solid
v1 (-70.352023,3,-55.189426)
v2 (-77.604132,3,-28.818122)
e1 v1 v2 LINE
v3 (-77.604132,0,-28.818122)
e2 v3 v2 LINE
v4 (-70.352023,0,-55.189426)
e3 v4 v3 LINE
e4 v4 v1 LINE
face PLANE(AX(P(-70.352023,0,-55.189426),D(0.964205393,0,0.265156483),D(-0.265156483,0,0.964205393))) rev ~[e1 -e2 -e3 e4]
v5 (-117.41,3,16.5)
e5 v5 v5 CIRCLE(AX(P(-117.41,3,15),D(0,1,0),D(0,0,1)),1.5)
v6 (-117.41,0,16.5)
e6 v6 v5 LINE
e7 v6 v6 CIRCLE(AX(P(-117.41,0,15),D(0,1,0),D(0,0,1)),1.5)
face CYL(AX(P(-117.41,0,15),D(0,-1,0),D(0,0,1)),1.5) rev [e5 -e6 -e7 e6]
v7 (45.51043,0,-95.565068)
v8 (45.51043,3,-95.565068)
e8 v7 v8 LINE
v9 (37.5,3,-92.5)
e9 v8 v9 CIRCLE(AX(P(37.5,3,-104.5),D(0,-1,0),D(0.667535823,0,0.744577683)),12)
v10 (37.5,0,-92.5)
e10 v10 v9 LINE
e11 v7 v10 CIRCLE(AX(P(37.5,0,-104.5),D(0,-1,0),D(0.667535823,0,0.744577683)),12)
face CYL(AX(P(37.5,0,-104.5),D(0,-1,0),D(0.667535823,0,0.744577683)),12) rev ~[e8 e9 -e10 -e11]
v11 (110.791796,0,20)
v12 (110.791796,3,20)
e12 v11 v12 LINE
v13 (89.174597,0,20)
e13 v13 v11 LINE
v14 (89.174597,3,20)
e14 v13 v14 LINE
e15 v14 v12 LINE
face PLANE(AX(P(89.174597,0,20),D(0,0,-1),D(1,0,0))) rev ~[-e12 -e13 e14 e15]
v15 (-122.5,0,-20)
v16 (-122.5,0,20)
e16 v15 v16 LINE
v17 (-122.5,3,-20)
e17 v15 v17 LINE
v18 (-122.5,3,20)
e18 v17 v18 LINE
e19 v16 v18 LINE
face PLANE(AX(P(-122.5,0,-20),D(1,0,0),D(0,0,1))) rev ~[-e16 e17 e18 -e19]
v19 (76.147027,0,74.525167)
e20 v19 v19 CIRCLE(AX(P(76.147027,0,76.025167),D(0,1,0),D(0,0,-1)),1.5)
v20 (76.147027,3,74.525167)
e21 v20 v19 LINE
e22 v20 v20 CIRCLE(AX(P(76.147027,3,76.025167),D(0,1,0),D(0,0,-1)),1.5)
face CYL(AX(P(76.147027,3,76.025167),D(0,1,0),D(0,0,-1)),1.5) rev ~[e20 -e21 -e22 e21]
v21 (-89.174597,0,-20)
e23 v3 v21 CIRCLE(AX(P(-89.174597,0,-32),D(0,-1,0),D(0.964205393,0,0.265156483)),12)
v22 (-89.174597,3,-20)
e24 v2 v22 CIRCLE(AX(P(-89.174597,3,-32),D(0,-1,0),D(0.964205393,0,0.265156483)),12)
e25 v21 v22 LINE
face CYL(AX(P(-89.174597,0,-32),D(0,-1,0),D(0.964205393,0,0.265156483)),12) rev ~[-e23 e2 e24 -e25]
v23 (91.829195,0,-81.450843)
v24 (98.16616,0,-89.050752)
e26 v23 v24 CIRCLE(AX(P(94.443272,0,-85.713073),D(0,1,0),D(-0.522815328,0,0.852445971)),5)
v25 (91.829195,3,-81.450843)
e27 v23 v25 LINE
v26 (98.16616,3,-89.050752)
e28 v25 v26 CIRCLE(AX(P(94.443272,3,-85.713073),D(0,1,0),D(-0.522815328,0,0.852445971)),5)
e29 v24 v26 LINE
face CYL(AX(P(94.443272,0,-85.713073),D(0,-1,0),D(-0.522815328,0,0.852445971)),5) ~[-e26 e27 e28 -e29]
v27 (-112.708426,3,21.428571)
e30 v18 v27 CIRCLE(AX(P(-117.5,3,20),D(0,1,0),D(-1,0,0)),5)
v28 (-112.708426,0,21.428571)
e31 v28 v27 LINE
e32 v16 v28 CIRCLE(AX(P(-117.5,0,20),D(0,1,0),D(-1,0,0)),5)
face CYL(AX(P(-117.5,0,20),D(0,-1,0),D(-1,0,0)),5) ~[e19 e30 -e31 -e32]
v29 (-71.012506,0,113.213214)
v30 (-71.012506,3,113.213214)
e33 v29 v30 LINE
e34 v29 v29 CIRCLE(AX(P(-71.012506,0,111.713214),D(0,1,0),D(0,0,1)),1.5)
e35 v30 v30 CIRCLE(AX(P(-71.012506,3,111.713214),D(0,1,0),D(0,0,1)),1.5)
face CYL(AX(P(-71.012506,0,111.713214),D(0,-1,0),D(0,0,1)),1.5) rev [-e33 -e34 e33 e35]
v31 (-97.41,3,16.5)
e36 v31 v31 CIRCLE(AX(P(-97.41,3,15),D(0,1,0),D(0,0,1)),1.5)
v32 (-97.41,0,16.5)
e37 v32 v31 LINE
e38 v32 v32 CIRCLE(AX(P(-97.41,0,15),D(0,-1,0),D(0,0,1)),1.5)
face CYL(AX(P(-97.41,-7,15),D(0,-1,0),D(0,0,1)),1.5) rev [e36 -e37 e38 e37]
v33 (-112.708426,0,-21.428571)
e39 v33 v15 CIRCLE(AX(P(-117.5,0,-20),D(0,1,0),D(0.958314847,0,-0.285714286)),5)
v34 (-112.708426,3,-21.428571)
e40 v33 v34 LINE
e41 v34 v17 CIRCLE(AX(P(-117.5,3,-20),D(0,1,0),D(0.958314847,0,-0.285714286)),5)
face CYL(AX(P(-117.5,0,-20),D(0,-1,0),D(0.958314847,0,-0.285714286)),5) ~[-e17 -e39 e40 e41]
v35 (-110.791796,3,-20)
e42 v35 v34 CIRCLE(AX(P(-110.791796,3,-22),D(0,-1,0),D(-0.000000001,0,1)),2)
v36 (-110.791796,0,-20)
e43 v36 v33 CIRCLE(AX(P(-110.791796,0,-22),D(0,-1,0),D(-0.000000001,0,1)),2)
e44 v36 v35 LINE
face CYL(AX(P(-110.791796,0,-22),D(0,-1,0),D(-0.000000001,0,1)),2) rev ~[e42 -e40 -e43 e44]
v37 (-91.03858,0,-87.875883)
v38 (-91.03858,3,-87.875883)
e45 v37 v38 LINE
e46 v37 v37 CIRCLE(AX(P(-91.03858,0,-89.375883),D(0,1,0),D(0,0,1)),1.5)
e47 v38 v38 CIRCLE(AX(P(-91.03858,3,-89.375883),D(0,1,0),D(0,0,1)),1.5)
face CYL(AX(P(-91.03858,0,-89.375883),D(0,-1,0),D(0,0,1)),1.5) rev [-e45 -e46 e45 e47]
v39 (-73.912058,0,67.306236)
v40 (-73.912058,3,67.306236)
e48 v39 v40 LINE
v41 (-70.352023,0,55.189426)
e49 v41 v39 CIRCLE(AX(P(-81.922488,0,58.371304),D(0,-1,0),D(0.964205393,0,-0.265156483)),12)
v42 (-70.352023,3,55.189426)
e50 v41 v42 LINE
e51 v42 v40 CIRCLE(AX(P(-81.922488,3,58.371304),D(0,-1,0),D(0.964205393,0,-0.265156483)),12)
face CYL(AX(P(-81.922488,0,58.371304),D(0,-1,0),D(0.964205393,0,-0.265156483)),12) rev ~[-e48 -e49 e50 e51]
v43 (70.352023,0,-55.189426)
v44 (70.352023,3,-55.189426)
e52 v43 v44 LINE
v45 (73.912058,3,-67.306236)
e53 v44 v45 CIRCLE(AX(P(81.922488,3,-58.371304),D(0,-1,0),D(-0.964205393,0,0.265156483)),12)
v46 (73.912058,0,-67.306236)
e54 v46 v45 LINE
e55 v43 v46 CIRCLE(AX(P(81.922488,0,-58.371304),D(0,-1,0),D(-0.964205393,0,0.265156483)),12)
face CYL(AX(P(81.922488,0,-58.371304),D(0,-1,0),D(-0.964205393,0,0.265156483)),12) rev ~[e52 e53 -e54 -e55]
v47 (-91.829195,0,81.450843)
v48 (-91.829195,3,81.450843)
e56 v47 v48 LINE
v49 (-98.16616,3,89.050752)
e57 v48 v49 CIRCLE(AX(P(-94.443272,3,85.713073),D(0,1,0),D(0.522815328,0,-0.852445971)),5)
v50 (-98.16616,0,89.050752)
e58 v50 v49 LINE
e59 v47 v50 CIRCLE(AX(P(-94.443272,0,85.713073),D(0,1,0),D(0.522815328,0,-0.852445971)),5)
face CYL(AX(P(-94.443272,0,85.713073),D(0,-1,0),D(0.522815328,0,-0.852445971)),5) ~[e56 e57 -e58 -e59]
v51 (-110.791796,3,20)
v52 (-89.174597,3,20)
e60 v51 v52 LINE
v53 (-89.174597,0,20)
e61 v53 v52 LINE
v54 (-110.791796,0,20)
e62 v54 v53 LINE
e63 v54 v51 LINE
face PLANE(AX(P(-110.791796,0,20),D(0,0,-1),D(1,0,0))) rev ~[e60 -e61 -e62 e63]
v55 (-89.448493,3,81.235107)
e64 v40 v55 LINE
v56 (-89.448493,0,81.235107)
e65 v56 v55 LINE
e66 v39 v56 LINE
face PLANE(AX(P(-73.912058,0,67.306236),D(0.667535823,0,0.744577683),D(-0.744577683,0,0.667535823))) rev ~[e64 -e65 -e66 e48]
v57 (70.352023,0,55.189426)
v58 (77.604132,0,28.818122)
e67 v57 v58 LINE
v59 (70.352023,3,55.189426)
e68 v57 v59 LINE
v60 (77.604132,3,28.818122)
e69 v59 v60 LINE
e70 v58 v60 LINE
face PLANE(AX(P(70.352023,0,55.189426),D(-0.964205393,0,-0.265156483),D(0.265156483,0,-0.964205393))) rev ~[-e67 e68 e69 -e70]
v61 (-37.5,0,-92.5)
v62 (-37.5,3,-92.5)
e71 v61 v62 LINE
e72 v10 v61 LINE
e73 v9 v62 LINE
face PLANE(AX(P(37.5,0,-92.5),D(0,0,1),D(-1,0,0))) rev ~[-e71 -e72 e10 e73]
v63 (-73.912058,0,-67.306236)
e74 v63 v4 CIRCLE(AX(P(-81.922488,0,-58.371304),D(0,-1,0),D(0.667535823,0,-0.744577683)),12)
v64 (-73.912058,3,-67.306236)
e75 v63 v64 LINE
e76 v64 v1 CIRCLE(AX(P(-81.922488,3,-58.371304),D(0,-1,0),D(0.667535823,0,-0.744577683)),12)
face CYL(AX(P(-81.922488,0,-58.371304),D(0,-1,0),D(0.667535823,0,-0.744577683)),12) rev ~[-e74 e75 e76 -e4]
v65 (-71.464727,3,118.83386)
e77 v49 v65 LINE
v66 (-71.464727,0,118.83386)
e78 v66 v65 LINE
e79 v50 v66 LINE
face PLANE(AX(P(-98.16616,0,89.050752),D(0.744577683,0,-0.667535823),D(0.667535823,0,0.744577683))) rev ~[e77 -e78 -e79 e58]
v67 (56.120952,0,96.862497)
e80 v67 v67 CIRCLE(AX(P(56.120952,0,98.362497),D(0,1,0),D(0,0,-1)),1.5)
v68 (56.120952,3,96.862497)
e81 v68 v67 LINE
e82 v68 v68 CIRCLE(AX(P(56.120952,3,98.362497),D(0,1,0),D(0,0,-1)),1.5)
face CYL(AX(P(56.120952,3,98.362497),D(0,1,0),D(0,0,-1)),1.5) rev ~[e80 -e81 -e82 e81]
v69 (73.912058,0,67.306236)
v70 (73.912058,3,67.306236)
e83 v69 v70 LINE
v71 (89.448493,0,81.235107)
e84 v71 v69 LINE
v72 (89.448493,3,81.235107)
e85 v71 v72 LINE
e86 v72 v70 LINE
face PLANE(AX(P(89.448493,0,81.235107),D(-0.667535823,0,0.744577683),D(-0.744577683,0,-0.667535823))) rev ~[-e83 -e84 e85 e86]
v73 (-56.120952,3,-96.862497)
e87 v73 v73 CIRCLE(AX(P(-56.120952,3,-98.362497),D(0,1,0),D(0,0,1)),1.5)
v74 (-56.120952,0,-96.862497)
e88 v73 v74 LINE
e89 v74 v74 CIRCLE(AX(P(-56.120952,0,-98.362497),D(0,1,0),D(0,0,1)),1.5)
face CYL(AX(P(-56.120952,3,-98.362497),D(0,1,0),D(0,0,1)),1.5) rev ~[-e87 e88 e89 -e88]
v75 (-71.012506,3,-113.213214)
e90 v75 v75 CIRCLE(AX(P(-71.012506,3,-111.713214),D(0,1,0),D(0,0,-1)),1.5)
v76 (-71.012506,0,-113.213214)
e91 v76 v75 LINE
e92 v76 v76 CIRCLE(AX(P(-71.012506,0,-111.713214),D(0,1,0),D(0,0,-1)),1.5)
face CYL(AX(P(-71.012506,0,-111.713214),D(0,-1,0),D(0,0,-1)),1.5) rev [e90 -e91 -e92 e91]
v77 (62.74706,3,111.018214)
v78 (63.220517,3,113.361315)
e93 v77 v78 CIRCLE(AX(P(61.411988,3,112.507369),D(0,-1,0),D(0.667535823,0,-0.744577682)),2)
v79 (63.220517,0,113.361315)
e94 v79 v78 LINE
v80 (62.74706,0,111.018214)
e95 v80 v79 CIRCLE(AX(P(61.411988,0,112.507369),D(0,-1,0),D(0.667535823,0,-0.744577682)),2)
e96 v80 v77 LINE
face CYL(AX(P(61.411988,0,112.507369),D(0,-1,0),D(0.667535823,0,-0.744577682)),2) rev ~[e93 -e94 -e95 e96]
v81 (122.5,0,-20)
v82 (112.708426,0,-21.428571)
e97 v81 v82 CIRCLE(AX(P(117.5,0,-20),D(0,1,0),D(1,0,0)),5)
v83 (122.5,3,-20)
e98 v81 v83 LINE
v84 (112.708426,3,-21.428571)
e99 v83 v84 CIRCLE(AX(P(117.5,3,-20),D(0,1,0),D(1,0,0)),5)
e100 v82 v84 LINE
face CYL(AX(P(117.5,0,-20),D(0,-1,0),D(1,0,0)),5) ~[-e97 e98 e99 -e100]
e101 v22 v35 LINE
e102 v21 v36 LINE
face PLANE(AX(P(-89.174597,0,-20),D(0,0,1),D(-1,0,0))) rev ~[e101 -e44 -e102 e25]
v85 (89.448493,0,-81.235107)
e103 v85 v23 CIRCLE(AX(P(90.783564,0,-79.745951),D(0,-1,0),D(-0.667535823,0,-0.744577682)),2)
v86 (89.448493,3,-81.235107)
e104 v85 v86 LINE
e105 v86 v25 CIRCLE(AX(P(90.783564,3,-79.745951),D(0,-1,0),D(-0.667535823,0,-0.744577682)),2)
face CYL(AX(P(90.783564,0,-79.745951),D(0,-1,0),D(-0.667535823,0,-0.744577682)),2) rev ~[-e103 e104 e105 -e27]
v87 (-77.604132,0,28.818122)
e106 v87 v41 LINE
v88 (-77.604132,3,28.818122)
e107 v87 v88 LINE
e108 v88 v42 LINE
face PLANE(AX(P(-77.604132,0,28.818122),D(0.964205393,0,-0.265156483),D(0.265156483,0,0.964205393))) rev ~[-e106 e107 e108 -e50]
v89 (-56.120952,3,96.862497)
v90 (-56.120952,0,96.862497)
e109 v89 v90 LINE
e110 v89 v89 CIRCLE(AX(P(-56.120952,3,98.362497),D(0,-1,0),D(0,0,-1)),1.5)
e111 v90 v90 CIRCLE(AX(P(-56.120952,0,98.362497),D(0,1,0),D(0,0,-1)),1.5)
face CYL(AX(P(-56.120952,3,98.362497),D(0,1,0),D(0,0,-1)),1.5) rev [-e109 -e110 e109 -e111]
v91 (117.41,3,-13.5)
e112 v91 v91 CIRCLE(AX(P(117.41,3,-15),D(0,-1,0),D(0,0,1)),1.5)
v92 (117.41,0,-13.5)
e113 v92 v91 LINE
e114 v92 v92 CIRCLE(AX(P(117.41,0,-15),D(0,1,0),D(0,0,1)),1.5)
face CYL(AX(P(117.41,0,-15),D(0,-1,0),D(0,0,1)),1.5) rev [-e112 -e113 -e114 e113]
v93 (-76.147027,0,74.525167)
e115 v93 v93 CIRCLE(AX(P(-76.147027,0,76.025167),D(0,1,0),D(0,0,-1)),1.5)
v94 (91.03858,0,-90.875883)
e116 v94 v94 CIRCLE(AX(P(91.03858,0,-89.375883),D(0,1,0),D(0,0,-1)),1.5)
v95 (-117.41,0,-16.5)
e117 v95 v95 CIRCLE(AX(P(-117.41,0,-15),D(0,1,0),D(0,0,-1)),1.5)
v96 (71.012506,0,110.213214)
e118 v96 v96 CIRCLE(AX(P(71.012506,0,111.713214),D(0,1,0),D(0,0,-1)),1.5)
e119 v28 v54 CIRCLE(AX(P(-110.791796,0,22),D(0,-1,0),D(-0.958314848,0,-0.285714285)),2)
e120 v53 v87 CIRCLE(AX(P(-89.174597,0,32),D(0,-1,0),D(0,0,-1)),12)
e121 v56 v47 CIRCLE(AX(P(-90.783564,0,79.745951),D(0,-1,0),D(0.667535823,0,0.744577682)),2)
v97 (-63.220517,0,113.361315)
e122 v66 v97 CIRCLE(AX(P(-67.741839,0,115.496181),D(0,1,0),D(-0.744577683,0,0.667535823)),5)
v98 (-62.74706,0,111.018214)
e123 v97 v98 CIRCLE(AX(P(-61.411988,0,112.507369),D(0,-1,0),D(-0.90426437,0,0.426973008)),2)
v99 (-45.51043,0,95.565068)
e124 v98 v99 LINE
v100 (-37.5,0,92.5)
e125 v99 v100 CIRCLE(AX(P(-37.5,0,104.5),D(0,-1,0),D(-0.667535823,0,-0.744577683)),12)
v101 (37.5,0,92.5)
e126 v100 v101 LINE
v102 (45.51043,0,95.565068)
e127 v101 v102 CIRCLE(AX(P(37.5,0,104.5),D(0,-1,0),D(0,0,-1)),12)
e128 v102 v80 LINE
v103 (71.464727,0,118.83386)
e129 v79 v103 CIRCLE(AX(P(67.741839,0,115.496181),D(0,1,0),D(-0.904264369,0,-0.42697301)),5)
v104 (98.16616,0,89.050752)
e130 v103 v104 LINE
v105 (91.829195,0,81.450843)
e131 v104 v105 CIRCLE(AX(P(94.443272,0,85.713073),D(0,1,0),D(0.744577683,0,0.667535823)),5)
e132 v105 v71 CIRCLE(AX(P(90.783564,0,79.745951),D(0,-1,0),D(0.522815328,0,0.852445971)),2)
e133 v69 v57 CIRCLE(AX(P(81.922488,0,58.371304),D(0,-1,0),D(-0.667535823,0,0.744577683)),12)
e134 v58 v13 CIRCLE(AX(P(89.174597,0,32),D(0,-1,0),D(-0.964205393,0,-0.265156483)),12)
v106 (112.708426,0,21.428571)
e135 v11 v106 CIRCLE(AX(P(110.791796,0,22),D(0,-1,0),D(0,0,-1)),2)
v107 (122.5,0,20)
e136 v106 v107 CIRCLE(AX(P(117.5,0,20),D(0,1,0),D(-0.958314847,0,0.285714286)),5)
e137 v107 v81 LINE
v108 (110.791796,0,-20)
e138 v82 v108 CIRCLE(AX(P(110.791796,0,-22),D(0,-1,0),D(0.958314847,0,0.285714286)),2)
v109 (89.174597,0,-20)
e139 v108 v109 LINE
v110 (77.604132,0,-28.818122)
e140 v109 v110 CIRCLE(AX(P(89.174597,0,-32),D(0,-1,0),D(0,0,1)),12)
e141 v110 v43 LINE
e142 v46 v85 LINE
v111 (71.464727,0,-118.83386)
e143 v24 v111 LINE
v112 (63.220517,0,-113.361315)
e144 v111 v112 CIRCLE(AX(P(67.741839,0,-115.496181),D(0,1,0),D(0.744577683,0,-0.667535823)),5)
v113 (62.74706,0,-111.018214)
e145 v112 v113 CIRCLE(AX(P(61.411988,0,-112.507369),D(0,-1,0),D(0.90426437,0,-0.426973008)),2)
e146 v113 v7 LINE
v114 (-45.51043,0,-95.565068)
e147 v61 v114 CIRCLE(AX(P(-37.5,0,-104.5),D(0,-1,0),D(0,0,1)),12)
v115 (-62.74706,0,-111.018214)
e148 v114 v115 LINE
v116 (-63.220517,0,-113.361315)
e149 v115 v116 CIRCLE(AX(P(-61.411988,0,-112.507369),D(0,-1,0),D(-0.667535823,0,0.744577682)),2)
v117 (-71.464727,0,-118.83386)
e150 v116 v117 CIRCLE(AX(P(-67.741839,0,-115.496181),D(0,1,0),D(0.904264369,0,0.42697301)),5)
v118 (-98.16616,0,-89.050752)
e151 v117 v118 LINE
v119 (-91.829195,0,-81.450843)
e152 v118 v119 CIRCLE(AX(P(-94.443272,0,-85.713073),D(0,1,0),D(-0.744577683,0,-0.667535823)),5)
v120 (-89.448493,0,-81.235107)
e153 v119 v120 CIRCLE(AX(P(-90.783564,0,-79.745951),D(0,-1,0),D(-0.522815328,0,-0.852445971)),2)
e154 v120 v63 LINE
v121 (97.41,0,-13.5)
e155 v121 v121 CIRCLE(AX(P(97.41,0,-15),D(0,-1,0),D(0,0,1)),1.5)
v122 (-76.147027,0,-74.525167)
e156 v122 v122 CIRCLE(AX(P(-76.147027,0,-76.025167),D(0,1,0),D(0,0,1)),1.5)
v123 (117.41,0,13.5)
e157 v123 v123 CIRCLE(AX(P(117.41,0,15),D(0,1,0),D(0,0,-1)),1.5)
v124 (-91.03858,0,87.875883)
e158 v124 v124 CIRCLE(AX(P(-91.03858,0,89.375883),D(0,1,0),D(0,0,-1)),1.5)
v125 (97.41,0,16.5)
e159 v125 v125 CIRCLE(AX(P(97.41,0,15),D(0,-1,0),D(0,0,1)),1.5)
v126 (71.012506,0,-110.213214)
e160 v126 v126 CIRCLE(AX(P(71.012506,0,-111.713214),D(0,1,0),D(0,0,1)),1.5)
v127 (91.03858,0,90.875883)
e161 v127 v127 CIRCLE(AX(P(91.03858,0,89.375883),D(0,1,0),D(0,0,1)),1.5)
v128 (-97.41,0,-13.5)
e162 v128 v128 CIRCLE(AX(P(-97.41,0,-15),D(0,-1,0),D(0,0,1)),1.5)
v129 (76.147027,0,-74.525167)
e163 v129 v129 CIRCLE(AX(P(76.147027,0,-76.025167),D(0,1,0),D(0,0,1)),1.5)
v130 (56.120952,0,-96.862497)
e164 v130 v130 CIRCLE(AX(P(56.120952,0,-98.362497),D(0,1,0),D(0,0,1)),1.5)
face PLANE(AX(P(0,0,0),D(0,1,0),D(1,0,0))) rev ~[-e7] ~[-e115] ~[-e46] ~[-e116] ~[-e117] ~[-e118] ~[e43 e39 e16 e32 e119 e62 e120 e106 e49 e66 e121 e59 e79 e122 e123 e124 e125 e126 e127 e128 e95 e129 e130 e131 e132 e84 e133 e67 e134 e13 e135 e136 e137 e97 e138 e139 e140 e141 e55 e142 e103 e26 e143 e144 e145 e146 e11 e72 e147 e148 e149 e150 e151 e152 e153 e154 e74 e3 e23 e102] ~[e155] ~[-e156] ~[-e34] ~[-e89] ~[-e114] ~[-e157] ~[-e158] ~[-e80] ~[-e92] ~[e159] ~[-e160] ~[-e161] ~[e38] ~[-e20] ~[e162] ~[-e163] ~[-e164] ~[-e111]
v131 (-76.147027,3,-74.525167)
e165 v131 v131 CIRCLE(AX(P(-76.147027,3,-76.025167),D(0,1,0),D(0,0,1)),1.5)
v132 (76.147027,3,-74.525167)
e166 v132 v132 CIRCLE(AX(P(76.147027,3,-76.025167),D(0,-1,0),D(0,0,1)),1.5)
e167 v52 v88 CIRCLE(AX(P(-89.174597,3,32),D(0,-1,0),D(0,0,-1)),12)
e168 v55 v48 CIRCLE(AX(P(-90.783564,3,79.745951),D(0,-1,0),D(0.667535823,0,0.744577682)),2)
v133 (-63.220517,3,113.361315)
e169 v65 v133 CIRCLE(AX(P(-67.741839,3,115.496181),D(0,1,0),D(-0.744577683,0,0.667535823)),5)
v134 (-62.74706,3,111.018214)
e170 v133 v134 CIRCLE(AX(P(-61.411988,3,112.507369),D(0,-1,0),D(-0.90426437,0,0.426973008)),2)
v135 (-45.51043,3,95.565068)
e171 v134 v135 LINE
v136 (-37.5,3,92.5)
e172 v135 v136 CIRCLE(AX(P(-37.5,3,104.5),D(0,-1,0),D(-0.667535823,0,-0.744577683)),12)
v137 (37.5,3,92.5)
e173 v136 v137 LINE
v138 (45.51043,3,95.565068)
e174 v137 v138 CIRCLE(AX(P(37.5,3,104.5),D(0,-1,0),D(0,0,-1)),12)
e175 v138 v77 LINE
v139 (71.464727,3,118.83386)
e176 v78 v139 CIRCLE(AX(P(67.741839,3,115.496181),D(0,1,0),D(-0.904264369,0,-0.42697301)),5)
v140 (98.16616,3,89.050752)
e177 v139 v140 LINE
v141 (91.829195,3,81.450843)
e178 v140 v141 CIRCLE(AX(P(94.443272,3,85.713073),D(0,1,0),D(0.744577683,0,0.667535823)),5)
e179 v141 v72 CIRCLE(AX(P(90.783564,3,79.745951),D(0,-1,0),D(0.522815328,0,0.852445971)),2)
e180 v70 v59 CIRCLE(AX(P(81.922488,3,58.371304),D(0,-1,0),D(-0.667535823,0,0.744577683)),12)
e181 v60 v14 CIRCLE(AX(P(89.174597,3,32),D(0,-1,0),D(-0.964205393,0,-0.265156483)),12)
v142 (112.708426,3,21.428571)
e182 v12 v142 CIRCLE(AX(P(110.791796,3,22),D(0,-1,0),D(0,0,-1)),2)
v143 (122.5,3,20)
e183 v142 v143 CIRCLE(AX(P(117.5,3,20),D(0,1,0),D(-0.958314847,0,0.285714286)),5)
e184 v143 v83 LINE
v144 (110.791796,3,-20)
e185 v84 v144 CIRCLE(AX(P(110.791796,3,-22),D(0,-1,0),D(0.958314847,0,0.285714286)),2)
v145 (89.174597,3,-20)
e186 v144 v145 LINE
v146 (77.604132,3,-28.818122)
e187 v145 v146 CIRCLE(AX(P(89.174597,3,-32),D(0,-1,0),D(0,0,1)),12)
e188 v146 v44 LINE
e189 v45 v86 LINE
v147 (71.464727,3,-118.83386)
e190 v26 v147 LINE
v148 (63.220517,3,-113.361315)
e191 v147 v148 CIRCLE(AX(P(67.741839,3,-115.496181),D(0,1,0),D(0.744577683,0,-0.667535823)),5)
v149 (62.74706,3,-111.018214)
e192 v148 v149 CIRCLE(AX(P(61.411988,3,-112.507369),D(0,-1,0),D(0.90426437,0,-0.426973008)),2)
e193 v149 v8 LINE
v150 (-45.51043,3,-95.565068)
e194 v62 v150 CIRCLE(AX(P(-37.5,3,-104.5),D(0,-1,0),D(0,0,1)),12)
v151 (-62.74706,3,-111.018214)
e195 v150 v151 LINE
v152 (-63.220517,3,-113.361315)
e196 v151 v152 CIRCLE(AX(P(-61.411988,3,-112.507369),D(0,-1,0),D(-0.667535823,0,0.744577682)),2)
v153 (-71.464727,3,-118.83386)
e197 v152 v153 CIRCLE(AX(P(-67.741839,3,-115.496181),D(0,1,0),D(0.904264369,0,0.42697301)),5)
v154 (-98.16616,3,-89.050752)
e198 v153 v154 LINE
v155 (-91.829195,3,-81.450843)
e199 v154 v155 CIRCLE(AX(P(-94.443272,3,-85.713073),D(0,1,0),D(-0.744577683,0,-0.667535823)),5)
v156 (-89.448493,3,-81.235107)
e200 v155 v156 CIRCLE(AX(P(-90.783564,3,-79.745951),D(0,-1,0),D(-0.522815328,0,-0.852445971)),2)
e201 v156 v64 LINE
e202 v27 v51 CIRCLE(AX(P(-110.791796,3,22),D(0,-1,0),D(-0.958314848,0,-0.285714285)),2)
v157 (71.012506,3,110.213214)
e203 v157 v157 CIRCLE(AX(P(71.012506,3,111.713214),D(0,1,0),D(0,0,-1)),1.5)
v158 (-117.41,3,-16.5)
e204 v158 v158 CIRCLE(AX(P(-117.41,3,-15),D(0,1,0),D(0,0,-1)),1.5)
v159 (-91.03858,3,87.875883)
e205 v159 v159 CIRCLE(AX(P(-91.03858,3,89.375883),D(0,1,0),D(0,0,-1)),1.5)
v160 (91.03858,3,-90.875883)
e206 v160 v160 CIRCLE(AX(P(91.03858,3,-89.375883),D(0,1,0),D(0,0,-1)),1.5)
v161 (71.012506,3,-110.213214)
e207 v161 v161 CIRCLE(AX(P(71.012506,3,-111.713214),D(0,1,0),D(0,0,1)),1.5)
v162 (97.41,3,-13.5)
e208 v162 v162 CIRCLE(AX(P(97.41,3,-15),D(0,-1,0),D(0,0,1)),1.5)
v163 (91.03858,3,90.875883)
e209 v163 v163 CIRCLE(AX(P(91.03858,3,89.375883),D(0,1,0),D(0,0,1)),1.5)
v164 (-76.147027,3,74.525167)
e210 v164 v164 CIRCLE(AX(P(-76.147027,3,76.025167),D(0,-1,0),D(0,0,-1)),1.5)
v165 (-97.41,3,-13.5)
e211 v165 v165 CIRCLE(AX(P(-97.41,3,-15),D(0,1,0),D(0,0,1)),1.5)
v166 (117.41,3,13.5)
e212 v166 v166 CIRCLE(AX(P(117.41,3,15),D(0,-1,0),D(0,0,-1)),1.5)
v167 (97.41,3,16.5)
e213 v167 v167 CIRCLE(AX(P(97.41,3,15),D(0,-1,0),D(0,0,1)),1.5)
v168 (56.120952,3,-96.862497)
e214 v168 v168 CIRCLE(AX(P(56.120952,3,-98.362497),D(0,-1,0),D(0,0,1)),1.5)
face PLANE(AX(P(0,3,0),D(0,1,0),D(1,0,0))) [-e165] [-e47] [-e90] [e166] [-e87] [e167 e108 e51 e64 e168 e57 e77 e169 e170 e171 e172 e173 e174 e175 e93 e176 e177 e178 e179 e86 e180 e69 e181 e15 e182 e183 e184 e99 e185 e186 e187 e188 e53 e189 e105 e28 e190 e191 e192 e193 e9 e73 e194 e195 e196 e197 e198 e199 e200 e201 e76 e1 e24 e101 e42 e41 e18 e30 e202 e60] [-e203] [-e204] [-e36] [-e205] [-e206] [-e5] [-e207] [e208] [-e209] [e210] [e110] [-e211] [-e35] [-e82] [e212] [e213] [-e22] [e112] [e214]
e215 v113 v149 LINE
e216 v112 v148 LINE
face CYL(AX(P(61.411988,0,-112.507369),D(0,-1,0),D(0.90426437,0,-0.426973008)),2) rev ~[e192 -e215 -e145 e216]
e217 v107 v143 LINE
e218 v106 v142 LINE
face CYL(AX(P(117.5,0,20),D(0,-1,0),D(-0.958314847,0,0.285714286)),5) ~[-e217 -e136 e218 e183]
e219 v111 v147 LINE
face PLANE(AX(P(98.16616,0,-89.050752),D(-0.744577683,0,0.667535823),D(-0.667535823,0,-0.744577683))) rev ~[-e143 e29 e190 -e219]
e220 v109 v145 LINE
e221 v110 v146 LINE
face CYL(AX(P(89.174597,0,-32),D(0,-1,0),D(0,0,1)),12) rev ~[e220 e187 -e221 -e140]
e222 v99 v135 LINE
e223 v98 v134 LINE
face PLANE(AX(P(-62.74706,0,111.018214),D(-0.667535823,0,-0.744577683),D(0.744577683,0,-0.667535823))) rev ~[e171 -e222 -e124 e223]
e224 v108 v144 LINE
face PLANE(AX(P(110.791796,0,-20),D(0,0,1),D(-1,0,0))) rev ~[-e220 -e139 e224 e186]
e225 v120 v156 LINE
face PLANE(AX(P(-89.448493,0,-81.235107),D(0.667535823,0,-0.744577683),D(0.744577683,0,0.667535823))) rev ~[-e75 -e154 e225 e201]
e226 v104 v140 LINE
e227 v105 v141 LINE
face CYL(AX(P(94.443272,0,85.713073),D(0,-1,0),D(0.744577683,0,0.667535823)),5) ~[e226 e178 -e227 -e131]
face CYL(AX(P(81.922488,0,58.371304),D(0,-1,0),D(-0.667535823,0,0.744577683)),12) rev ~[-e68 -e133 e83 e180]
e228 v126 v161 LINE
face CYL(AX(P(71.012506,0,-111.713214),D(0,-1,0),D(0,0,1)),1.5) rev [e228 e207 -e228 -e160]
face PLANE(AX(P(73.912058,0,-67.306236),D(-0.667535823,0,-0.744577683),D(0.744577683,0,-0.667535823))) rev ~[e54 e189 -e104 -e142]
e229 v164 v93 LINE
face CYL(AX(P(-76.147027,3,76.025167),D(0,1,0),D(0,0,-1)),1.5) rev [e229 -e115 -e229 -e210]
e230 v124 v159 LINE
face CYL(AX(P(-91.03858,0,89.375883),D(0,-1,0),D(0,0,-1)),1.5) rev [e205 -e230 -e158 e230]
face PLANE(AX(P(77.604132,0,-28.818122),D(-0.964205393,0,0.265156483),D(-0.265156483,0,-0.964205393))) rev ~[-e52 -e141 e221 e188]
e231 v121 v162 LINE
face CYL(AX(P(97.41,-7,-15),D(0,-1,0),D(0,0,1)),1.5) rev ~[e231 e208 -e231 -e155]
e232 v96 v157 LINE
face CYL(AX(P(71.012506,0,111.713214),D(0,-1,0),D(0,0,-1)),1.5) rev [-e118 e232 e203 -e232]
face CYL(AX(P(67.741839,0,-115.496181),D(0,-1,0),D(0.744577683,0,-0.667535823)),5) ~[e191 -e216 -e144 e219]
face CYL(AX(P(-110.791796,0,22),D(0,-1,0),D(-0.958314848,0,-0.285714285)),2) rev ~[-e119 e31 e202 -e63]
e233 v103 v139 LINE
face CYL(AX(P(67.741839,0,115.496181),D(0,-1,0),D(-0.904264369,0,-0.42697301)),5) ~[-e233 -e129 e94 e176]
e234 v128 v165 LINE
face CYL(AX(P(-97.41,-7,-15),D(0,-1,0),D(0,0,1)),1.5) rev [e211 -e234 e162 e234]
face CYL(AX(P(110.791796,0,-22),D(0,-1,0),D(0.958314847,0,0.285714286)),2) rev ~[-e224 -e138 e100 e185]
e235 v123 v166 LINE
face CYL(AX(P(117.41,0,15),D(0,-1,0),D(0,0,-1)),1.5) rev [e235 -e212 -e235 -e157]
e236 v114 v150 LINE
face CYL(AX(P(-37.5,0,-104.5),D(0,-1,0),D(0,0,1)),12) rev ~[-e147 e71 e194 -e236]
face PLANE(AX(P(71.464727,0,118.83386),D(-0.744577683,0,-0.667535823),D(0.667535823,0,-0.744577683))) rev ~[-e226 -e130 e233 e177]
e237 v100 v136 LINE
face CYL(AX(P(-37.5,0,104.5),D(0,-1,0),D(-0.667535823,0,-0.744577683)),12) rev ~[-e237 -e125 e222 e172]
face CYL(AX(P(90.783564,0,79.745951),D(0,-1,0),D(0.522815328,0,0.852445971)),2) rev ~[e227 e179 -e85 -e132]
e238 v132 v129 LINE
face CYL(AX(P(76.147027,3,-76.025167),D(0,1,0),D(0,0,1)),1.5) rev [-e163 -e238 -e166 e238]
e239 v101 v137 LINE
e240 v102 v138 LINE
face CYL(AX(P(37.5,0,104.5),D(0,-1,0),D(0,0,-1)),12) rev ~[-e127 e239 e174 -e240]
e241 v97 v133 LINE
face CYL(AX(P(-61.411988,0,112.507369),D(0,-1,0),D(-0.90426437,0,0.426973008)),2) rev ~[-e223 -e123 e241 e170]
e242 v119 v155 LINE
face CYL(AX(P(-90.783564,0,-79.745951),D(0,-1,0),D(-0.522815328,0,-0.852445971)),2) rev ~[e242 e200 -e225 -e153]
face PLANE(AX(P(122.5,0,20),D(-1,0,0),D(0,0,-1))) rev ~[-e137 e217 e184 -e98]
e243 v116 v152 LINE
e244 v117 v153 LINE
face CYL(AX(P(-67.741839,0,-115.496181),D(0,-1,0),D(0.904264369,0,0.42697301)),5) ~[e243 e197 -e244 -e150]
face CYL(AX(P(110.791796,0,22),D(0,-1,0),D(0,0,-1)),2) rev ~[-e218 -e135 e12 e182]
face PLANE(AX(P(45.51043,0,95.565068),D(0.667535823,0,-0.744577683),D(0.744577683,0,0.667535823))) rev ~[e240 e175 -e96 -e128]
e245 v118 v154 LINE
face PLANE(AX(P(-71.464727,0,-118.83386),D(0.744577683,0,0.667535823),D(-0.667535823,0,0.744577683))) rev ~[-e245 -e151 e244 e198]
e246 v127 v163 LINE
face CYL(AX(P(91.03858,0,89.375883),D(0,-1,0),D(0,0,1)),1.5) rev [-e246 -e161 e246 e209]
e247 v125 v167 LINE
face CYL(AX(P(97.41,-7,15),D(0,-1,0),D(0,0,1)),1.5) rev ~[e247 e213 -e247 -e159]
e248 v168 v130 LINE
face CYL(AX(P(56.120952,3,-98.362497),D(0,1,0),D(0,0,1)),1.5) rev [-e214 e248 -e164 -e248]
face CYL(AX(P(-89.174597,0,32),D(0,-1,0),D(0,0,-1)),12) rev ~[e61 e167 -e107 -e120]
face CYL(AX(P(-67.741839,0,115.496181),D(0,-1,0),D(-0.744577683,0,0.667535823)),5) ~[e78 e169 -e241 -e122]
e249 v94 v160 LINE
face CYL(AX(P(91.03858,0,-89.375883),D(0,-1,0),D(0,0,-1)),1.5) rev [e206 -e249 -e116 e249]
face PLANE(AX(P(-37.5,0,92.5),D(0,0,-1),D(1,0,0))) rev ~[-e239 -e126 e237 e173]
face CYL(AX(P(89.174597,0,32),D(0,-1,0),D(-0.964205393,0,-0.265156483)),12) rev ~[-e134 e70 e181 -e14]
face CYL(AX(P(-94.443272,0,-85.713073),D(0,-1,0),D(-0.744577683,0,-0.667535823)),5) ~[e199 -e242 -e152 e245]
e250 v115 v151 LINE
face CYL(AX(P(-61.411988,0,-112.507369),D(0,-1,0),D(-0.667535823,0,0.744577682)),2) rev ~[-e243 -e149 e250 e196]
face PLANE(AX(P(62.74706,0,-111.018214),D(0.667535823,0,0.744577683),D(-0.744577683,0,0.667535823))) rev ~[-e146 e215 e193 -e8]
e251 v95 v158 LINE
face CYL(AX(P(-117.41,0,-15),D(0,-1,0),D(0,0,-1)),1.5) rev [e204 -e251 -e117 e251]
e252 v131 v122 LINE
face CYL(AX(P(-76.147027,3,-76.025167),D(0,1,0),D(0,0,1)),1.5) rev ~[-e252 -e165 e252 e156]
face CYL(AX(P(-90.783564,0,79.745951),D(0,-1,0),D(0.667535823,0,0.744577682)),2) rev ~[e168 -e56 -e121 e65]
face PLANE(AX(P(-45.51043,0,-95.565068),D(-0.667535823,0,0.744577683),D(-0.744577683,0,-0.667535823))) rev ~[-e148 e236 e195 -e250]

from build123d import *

# Parameters (mm, degrees)
SKETCH2_R               = 1.5
BOSS_EXTRUDE1_DEPTH     = 3
SKETCH7_R               = 1.5
CUT_EXTRUDE4_DEPTH      = 10
MIRROR2_COPY_1_SKETCH_R = 1.5
MIRROR2_COPY_1_DEPTH    = 10
CUT_EXTRUDE5_START      = -10
SKETCH8_R               = 1.5
CUT_EXTRUDE5_DEPTH      = 10


with BuildPart() as part:
    # Sketch2 → Boss-Extrude1 (new body)
    with BuildSketch(Plane(origin=(0, 0, 0), x_dir=(1, 0, 0), z_dir=(0, 1, 0))):
        with BuildLine():
            Line((77.604131862, 28.818122204), (70.352023373, 55.1894258))
            ThreePointArc((70.352023373, 55.1894258), (70.409142384, 61.75403485), (73.912058214, 67.306235788))
            Line((73.912058214, 67.306235788), (89.448492578, 81.235106792))
            ThreePointArc((89.448492578, 81.235106792), (90.603066053, 81.737789877), (91.829194878, 81.450843369))
            ThreePointArc((91.829194878, 81.450843369), (98.283456403, 82.511045735), (98.166159929, 89.050752337))
            Line((98.166159929, 89.050752337), (71.464727022, 118.833859641))
            ThreePointArc((71.464727022, 118.833859641), (64.976597411, 119.661926694), (63.220516764, 113.361315481))
            ThreePointArc((63.220516764, 113.361315481), (63.372367291, 112.111246838), (62.747059671, 111.018214097))
            Line((62.747059671, 111.018214097), (45.510429872, 95.565067809))
            ThreePointArc((45.510429872, 95.565067809), (41.788403765, 93.292431435), (37.5, 92.5))
            Line((37.5, 92.5), (-37.5, 92.5))
            ThreePointArc((-37.5, 92.5), (-41.788403765, 93.292431435), (-45.510429872, 95.565067809))
            Line((-45.510429872, 95.565067809), (-62.747059671, 111.018214097))
            ThreePointArc((-62.747059671, 111.018214097), (-63.372367291, 112.111246838), (-63.220516764, 113.361315481))
            ThreePointArc((-63.220516764, 113.361315481), (-64.976597411, 119.661926694), (-71.464727022, 118.833859641))
            Line((-71.464727022, 118.833859641), (-98.166159929, 89.050752337))
            ThreePointArc((-98.166159929, 89.050752337), (-98.283456403, 82.511045735), (-91.829194878, 81.450843369))
            ThreePointArc((-91.829194878, 81.450843369), (-90.603066053, 81.737789877), (-89.448492578, 81.235106792))
            Line((-89.448492578, 81.235106792), (-73.912058214, 67.306235788))
            ThreePointArc((-73.912058214, 67.306235788), (-70.409142384, 61.75403485), (-70.352023373, 55.1894258))
            Line((-70.352023373, 55.1894258), (-77.604131862, 28.818122204))
            ThreePointArc((-77.604131862, 28.818122204), (-81.900757615, 22.455825506), (-89.174596575, 20))
            Line((-89.174596575, 20), (-110.791796068, 20))
            ThreePointArc((-110.791796068, 20), (-111.987024677, 20.396432549), (-112.708425763, 21.428571429))
            ThreePointArc((-112.708425763, 21.428571429), (-118.221847911, 24.947619184), (-122.5, 20))
            Line((-122.5, 20), (-122.5, -20))
            ThreePointArc((-122.5, -20), (-118.221847911, -24.947619184), (-112.708425762, -21.428571429))
            ThreePointArc((-112.708425762, -21.428571429), (-111.987024677, -20.396432549), (-110.791796067, -20))
            Line((-110.791796067, -20), (-89.174596575, -20))
            ThreePointArc((-89.174596575, -20), (-81.900757615, -22.455825506), (-77.604131862, -28.818122204))
            Line((-77.604131862, -28.818122204), (-70.352023373, -55.1894258))
            ThreePointArc((-70.352023373, -55.1894258), (-70.409142384, -61.75403485), (-73.912058214, -67.306235788))
            Line((-73.912058214, -67.306235788), (-89.448492578, -81.235106792))
            ThreePointArc((-89.448492578, -81.235106792), (-90.603066053, -81.737789877), (-91.829194878, -81.450843369))
            ThreePointArc((-91.829194878, -81.450843369), (-98.283456403, -82.511045735), (-98.166159929, -89.050752337))
            Line((-98.166159929, -89.050752337), (-71.464727022, -118.833859641))
            ThreePointArc((-71.464727022, -118.833859641), (-64.976597411, -119.661926694), (-63.220516764, -113.361315481))
            ThreePointArc((-63.220516764, -113.361315481), (-63.372367291, -112.111246838), (-62.747059671, -111.018214097))
            Line((-62.747059671, -111.018214097), (-45.510429872, -95.565067809))
            ThreePointArc((-45.510429872, -95.565067809), (-41.788403765, -93.292431435), (-37.5, -92.5))
            Line((-37.5, -92.5), (37.5, -92.5))
            ThreePointArc((37.5, -92.5), (41.788403765, -93.292431435), (45.510429872, -95.565067809))
            Line((45.510429872, -95.565067809), (62.747059671, -111.018214097))
            ThreePointArc((62.747059671, -111.018214097), (63.372367291, -112.111246838), (63.220516764, -113.361315481))
            ThreePointArc((63.220516764, -113.361315481), (64.976597411, -119.661926694), (71.464727022, -118.833859641))
            Line((71.464727022, -118.833859641), (98.166159929, -89.050752337))
            ThreePointArc((98.166159929, -89.050752337), (98.283456403, -82.511045735), (91.829194878, -81.450843369))
            ThreePointArc((91.829194878, -81.450843369), (90.603066053, -81.737789877), (89.448492578, -81.235106792))
            Line((89.448492578, -81.235106792), (73.912058214, -67.306235788))
            ThreePointArc((73.912058214, -67.306235788), (70.409142384, -61.75403485), (70.352023373, -55.1894258))
            Line((70.352023373, -55.1894258), (77.604131862, -28.818122204))
            ThreePointArc((77.604131862, -28.818122204), (81.900757615, -22.455825506), (89.174596575, -20))
            Line((89.174596575, -20), (110.791796067, -20))
            ThreePointArc((110.791796067, -20), (111.987024677, -20.396432549), (112.708425762, -21.428571429))
            ThreePointArc((112.708425762, -21.428571429), (118.221847911, -24.947619184), (122.5, -20))
            Line((122.5, -20), (122.5, 20))
            ThreePointArc((122.5, 20), (118.221847911, 24.947619184), (112.708425763, 21.428571429))
            ThreePointArc((112.708425763, 21.428571429), (111.987024677, 20.396432549), (110.791796068, 20))
            Line((110.791796068, 20), (89.174596575, 20))
            ThreePointArc((89.174596575, 20), (81.900757615, 22.455825506), (77.604131862, 28.818122204))
        make_face()
        with Locations(Location((-91.038580411, 89.375883412, 0), (0, 0, 270))):
            Circle(SKETCH2_R, mode=Mode.SUBTRACT)
        with Locations(Location((-71.012505731, 111.713213891, 0), (0, 0, 90))):
            Circle(SKETCH2_R, mode=Mode.SUBTRACT)
        with Locations(Location((91.038580411, 89.375883412, 0), (0, 0, 90))):
            Circle(SKETCH2_R, mode=Mode.SUBTRACT)
        with Locations(Location((71.012505731, 111.713213891, 0), (0, 0, 270))):
            Circle(SKETCH2_R, mode=Mode.SUBTRACT)
        with Locations(Location((91.038580411, -89.375883412, 0), (0, 0, 270))):
            Circle(SKETCH2_R, mode=Mode.SUBTRACT)
        with Locations(Location((71.012505731, -111.713213891, 0), (0, 0, 90))):
            Circle(SKETCH2_R, mode=Mode.SUBTRACT)
        with Locations(Location((-71.012505731, -111.713213891, 0), (0, 0, 270))):
            Circle(SKETCH2_R, mode=Mode.SUBTRACT)
        with Locations(Location((-91.038580411, -89.375883412, 0), (0, 0, 90))):
            Circle(SKETCH2_R, mode=Mode.SUBTRACT)
        with Locations(Location((-117.41, -15, 0), (0, 0, 270))):
            Circle(SKETCH2_R, mode=Mode.SUBTRACT)
        with Locations(Location((-117.41, 15, 0), (0, 0, 90))):
            Circle(SKETCH2_R, mode=Mode.SUBTRACT)
        with Locations(Location((117.41, -15, 0), (0, 0, 90))):
            Circle(SKETCH2_R, mode=Mode.SUBTRACT)
        with Locations(Location((117.41, 15, 0), (0, 0, 270))):
            Circle(SKETCH2_R, mode=Mode.SUBTRACT)
    extrude(amount=BOSS_EXTRUDE1_DEPTH)

    # Sketch7 → Cut-Extrude4 (cut)
    with BuildSketch(Plane(origin=(0, 3, 0), x_dir=(1, 0, 0), z_dir=(0, 1, 0))):
        with Locations(Location((-76.147026759, 76.025166959, 0), (0, 0, 270))):
            Circle(SKETCH7_R)
        with Locations(Location((-56.120952079, 98.362497437, 0), (0, 0, 270))):
            Circle(SKETCH7_R)
    cut_extrude4 = extrude(amount=-CUT_EXTRUDE4_DEPTH, mode=Mode.SUBTRACT)

    # Mirror1: Cut-Extrude4 across plane
    add(cut_extrude4.mirror(Plane(origin=(0, 0, 0), x_dir=(0, 0, 1), z_dir=(1, 0, 0))), mode=Mode.SUBTRACT)

    # Mirror2: Cut-Extrude4 across plane
    add(cut_extrude4.mirror(Plane.XY), mode=Mode.SUBTRACT)

    # Mirror2 copy 1 sketch → Mirror2 copy 1 (cut)
    with BuildSketch(Plane(origin=(0, 3, 0), x_dir=(-1, 0, 0), z_dir=(0, 1, 0))):
        with Locations(Location((-76.147026759, 76.025166959, 0), (0, 0, 270))):
            Circle(MIRROR2_COPY_1_SKETCH_R)
        with Locations(Location((-56.120952079, 98.362497437, 0), (0, 0, 270))):
            Circle(MIRROR2_COPY_1_SKETCH_R)
    extrude(amount=-MIRROR2_COPY_1_DEPTH, mode=Mode.SUBTRACT)

    # Sketch8 → Cut-Extrude5 (cut)
    with BuildSketch(Plane(origin=(0, 3, 0), x_dir=(1, 0, 0), z_dir=(0, 1, 0)).offset(CUT_EXTRUDE5_START)):
        with Locations(Location((-117.41, 15, 0), (0, 0, 90))):
            Circle(SKETCH8_R)
        with Locations(Location((-117.41, -15, 0), (0, 0, 270))):
            Circle(SKETCH8_R)
        with Locations(Location((-97.41, -15, 0), (0, 0, 270))):
            Circle(SKETCH8_R)
        with Locations(Location((-97.41, 15, 0), (0, 0, 270))):
            Circle(SKETCH8_R)
    cut_extrude5 = extrude(amount=CUT_EXTRUDE5_DEPTH, mode=Mode.SUBTRACT)

    # Mirror3: Cut-Extrude5 across plane
    add(cut_extrude5.mirror(Plane(origin=(0, 0, 0), x_dir=(0, 0, 1), z_dir=(1, 0, 0))), mode=Mode.SUBTRACT)


solid = part.part
